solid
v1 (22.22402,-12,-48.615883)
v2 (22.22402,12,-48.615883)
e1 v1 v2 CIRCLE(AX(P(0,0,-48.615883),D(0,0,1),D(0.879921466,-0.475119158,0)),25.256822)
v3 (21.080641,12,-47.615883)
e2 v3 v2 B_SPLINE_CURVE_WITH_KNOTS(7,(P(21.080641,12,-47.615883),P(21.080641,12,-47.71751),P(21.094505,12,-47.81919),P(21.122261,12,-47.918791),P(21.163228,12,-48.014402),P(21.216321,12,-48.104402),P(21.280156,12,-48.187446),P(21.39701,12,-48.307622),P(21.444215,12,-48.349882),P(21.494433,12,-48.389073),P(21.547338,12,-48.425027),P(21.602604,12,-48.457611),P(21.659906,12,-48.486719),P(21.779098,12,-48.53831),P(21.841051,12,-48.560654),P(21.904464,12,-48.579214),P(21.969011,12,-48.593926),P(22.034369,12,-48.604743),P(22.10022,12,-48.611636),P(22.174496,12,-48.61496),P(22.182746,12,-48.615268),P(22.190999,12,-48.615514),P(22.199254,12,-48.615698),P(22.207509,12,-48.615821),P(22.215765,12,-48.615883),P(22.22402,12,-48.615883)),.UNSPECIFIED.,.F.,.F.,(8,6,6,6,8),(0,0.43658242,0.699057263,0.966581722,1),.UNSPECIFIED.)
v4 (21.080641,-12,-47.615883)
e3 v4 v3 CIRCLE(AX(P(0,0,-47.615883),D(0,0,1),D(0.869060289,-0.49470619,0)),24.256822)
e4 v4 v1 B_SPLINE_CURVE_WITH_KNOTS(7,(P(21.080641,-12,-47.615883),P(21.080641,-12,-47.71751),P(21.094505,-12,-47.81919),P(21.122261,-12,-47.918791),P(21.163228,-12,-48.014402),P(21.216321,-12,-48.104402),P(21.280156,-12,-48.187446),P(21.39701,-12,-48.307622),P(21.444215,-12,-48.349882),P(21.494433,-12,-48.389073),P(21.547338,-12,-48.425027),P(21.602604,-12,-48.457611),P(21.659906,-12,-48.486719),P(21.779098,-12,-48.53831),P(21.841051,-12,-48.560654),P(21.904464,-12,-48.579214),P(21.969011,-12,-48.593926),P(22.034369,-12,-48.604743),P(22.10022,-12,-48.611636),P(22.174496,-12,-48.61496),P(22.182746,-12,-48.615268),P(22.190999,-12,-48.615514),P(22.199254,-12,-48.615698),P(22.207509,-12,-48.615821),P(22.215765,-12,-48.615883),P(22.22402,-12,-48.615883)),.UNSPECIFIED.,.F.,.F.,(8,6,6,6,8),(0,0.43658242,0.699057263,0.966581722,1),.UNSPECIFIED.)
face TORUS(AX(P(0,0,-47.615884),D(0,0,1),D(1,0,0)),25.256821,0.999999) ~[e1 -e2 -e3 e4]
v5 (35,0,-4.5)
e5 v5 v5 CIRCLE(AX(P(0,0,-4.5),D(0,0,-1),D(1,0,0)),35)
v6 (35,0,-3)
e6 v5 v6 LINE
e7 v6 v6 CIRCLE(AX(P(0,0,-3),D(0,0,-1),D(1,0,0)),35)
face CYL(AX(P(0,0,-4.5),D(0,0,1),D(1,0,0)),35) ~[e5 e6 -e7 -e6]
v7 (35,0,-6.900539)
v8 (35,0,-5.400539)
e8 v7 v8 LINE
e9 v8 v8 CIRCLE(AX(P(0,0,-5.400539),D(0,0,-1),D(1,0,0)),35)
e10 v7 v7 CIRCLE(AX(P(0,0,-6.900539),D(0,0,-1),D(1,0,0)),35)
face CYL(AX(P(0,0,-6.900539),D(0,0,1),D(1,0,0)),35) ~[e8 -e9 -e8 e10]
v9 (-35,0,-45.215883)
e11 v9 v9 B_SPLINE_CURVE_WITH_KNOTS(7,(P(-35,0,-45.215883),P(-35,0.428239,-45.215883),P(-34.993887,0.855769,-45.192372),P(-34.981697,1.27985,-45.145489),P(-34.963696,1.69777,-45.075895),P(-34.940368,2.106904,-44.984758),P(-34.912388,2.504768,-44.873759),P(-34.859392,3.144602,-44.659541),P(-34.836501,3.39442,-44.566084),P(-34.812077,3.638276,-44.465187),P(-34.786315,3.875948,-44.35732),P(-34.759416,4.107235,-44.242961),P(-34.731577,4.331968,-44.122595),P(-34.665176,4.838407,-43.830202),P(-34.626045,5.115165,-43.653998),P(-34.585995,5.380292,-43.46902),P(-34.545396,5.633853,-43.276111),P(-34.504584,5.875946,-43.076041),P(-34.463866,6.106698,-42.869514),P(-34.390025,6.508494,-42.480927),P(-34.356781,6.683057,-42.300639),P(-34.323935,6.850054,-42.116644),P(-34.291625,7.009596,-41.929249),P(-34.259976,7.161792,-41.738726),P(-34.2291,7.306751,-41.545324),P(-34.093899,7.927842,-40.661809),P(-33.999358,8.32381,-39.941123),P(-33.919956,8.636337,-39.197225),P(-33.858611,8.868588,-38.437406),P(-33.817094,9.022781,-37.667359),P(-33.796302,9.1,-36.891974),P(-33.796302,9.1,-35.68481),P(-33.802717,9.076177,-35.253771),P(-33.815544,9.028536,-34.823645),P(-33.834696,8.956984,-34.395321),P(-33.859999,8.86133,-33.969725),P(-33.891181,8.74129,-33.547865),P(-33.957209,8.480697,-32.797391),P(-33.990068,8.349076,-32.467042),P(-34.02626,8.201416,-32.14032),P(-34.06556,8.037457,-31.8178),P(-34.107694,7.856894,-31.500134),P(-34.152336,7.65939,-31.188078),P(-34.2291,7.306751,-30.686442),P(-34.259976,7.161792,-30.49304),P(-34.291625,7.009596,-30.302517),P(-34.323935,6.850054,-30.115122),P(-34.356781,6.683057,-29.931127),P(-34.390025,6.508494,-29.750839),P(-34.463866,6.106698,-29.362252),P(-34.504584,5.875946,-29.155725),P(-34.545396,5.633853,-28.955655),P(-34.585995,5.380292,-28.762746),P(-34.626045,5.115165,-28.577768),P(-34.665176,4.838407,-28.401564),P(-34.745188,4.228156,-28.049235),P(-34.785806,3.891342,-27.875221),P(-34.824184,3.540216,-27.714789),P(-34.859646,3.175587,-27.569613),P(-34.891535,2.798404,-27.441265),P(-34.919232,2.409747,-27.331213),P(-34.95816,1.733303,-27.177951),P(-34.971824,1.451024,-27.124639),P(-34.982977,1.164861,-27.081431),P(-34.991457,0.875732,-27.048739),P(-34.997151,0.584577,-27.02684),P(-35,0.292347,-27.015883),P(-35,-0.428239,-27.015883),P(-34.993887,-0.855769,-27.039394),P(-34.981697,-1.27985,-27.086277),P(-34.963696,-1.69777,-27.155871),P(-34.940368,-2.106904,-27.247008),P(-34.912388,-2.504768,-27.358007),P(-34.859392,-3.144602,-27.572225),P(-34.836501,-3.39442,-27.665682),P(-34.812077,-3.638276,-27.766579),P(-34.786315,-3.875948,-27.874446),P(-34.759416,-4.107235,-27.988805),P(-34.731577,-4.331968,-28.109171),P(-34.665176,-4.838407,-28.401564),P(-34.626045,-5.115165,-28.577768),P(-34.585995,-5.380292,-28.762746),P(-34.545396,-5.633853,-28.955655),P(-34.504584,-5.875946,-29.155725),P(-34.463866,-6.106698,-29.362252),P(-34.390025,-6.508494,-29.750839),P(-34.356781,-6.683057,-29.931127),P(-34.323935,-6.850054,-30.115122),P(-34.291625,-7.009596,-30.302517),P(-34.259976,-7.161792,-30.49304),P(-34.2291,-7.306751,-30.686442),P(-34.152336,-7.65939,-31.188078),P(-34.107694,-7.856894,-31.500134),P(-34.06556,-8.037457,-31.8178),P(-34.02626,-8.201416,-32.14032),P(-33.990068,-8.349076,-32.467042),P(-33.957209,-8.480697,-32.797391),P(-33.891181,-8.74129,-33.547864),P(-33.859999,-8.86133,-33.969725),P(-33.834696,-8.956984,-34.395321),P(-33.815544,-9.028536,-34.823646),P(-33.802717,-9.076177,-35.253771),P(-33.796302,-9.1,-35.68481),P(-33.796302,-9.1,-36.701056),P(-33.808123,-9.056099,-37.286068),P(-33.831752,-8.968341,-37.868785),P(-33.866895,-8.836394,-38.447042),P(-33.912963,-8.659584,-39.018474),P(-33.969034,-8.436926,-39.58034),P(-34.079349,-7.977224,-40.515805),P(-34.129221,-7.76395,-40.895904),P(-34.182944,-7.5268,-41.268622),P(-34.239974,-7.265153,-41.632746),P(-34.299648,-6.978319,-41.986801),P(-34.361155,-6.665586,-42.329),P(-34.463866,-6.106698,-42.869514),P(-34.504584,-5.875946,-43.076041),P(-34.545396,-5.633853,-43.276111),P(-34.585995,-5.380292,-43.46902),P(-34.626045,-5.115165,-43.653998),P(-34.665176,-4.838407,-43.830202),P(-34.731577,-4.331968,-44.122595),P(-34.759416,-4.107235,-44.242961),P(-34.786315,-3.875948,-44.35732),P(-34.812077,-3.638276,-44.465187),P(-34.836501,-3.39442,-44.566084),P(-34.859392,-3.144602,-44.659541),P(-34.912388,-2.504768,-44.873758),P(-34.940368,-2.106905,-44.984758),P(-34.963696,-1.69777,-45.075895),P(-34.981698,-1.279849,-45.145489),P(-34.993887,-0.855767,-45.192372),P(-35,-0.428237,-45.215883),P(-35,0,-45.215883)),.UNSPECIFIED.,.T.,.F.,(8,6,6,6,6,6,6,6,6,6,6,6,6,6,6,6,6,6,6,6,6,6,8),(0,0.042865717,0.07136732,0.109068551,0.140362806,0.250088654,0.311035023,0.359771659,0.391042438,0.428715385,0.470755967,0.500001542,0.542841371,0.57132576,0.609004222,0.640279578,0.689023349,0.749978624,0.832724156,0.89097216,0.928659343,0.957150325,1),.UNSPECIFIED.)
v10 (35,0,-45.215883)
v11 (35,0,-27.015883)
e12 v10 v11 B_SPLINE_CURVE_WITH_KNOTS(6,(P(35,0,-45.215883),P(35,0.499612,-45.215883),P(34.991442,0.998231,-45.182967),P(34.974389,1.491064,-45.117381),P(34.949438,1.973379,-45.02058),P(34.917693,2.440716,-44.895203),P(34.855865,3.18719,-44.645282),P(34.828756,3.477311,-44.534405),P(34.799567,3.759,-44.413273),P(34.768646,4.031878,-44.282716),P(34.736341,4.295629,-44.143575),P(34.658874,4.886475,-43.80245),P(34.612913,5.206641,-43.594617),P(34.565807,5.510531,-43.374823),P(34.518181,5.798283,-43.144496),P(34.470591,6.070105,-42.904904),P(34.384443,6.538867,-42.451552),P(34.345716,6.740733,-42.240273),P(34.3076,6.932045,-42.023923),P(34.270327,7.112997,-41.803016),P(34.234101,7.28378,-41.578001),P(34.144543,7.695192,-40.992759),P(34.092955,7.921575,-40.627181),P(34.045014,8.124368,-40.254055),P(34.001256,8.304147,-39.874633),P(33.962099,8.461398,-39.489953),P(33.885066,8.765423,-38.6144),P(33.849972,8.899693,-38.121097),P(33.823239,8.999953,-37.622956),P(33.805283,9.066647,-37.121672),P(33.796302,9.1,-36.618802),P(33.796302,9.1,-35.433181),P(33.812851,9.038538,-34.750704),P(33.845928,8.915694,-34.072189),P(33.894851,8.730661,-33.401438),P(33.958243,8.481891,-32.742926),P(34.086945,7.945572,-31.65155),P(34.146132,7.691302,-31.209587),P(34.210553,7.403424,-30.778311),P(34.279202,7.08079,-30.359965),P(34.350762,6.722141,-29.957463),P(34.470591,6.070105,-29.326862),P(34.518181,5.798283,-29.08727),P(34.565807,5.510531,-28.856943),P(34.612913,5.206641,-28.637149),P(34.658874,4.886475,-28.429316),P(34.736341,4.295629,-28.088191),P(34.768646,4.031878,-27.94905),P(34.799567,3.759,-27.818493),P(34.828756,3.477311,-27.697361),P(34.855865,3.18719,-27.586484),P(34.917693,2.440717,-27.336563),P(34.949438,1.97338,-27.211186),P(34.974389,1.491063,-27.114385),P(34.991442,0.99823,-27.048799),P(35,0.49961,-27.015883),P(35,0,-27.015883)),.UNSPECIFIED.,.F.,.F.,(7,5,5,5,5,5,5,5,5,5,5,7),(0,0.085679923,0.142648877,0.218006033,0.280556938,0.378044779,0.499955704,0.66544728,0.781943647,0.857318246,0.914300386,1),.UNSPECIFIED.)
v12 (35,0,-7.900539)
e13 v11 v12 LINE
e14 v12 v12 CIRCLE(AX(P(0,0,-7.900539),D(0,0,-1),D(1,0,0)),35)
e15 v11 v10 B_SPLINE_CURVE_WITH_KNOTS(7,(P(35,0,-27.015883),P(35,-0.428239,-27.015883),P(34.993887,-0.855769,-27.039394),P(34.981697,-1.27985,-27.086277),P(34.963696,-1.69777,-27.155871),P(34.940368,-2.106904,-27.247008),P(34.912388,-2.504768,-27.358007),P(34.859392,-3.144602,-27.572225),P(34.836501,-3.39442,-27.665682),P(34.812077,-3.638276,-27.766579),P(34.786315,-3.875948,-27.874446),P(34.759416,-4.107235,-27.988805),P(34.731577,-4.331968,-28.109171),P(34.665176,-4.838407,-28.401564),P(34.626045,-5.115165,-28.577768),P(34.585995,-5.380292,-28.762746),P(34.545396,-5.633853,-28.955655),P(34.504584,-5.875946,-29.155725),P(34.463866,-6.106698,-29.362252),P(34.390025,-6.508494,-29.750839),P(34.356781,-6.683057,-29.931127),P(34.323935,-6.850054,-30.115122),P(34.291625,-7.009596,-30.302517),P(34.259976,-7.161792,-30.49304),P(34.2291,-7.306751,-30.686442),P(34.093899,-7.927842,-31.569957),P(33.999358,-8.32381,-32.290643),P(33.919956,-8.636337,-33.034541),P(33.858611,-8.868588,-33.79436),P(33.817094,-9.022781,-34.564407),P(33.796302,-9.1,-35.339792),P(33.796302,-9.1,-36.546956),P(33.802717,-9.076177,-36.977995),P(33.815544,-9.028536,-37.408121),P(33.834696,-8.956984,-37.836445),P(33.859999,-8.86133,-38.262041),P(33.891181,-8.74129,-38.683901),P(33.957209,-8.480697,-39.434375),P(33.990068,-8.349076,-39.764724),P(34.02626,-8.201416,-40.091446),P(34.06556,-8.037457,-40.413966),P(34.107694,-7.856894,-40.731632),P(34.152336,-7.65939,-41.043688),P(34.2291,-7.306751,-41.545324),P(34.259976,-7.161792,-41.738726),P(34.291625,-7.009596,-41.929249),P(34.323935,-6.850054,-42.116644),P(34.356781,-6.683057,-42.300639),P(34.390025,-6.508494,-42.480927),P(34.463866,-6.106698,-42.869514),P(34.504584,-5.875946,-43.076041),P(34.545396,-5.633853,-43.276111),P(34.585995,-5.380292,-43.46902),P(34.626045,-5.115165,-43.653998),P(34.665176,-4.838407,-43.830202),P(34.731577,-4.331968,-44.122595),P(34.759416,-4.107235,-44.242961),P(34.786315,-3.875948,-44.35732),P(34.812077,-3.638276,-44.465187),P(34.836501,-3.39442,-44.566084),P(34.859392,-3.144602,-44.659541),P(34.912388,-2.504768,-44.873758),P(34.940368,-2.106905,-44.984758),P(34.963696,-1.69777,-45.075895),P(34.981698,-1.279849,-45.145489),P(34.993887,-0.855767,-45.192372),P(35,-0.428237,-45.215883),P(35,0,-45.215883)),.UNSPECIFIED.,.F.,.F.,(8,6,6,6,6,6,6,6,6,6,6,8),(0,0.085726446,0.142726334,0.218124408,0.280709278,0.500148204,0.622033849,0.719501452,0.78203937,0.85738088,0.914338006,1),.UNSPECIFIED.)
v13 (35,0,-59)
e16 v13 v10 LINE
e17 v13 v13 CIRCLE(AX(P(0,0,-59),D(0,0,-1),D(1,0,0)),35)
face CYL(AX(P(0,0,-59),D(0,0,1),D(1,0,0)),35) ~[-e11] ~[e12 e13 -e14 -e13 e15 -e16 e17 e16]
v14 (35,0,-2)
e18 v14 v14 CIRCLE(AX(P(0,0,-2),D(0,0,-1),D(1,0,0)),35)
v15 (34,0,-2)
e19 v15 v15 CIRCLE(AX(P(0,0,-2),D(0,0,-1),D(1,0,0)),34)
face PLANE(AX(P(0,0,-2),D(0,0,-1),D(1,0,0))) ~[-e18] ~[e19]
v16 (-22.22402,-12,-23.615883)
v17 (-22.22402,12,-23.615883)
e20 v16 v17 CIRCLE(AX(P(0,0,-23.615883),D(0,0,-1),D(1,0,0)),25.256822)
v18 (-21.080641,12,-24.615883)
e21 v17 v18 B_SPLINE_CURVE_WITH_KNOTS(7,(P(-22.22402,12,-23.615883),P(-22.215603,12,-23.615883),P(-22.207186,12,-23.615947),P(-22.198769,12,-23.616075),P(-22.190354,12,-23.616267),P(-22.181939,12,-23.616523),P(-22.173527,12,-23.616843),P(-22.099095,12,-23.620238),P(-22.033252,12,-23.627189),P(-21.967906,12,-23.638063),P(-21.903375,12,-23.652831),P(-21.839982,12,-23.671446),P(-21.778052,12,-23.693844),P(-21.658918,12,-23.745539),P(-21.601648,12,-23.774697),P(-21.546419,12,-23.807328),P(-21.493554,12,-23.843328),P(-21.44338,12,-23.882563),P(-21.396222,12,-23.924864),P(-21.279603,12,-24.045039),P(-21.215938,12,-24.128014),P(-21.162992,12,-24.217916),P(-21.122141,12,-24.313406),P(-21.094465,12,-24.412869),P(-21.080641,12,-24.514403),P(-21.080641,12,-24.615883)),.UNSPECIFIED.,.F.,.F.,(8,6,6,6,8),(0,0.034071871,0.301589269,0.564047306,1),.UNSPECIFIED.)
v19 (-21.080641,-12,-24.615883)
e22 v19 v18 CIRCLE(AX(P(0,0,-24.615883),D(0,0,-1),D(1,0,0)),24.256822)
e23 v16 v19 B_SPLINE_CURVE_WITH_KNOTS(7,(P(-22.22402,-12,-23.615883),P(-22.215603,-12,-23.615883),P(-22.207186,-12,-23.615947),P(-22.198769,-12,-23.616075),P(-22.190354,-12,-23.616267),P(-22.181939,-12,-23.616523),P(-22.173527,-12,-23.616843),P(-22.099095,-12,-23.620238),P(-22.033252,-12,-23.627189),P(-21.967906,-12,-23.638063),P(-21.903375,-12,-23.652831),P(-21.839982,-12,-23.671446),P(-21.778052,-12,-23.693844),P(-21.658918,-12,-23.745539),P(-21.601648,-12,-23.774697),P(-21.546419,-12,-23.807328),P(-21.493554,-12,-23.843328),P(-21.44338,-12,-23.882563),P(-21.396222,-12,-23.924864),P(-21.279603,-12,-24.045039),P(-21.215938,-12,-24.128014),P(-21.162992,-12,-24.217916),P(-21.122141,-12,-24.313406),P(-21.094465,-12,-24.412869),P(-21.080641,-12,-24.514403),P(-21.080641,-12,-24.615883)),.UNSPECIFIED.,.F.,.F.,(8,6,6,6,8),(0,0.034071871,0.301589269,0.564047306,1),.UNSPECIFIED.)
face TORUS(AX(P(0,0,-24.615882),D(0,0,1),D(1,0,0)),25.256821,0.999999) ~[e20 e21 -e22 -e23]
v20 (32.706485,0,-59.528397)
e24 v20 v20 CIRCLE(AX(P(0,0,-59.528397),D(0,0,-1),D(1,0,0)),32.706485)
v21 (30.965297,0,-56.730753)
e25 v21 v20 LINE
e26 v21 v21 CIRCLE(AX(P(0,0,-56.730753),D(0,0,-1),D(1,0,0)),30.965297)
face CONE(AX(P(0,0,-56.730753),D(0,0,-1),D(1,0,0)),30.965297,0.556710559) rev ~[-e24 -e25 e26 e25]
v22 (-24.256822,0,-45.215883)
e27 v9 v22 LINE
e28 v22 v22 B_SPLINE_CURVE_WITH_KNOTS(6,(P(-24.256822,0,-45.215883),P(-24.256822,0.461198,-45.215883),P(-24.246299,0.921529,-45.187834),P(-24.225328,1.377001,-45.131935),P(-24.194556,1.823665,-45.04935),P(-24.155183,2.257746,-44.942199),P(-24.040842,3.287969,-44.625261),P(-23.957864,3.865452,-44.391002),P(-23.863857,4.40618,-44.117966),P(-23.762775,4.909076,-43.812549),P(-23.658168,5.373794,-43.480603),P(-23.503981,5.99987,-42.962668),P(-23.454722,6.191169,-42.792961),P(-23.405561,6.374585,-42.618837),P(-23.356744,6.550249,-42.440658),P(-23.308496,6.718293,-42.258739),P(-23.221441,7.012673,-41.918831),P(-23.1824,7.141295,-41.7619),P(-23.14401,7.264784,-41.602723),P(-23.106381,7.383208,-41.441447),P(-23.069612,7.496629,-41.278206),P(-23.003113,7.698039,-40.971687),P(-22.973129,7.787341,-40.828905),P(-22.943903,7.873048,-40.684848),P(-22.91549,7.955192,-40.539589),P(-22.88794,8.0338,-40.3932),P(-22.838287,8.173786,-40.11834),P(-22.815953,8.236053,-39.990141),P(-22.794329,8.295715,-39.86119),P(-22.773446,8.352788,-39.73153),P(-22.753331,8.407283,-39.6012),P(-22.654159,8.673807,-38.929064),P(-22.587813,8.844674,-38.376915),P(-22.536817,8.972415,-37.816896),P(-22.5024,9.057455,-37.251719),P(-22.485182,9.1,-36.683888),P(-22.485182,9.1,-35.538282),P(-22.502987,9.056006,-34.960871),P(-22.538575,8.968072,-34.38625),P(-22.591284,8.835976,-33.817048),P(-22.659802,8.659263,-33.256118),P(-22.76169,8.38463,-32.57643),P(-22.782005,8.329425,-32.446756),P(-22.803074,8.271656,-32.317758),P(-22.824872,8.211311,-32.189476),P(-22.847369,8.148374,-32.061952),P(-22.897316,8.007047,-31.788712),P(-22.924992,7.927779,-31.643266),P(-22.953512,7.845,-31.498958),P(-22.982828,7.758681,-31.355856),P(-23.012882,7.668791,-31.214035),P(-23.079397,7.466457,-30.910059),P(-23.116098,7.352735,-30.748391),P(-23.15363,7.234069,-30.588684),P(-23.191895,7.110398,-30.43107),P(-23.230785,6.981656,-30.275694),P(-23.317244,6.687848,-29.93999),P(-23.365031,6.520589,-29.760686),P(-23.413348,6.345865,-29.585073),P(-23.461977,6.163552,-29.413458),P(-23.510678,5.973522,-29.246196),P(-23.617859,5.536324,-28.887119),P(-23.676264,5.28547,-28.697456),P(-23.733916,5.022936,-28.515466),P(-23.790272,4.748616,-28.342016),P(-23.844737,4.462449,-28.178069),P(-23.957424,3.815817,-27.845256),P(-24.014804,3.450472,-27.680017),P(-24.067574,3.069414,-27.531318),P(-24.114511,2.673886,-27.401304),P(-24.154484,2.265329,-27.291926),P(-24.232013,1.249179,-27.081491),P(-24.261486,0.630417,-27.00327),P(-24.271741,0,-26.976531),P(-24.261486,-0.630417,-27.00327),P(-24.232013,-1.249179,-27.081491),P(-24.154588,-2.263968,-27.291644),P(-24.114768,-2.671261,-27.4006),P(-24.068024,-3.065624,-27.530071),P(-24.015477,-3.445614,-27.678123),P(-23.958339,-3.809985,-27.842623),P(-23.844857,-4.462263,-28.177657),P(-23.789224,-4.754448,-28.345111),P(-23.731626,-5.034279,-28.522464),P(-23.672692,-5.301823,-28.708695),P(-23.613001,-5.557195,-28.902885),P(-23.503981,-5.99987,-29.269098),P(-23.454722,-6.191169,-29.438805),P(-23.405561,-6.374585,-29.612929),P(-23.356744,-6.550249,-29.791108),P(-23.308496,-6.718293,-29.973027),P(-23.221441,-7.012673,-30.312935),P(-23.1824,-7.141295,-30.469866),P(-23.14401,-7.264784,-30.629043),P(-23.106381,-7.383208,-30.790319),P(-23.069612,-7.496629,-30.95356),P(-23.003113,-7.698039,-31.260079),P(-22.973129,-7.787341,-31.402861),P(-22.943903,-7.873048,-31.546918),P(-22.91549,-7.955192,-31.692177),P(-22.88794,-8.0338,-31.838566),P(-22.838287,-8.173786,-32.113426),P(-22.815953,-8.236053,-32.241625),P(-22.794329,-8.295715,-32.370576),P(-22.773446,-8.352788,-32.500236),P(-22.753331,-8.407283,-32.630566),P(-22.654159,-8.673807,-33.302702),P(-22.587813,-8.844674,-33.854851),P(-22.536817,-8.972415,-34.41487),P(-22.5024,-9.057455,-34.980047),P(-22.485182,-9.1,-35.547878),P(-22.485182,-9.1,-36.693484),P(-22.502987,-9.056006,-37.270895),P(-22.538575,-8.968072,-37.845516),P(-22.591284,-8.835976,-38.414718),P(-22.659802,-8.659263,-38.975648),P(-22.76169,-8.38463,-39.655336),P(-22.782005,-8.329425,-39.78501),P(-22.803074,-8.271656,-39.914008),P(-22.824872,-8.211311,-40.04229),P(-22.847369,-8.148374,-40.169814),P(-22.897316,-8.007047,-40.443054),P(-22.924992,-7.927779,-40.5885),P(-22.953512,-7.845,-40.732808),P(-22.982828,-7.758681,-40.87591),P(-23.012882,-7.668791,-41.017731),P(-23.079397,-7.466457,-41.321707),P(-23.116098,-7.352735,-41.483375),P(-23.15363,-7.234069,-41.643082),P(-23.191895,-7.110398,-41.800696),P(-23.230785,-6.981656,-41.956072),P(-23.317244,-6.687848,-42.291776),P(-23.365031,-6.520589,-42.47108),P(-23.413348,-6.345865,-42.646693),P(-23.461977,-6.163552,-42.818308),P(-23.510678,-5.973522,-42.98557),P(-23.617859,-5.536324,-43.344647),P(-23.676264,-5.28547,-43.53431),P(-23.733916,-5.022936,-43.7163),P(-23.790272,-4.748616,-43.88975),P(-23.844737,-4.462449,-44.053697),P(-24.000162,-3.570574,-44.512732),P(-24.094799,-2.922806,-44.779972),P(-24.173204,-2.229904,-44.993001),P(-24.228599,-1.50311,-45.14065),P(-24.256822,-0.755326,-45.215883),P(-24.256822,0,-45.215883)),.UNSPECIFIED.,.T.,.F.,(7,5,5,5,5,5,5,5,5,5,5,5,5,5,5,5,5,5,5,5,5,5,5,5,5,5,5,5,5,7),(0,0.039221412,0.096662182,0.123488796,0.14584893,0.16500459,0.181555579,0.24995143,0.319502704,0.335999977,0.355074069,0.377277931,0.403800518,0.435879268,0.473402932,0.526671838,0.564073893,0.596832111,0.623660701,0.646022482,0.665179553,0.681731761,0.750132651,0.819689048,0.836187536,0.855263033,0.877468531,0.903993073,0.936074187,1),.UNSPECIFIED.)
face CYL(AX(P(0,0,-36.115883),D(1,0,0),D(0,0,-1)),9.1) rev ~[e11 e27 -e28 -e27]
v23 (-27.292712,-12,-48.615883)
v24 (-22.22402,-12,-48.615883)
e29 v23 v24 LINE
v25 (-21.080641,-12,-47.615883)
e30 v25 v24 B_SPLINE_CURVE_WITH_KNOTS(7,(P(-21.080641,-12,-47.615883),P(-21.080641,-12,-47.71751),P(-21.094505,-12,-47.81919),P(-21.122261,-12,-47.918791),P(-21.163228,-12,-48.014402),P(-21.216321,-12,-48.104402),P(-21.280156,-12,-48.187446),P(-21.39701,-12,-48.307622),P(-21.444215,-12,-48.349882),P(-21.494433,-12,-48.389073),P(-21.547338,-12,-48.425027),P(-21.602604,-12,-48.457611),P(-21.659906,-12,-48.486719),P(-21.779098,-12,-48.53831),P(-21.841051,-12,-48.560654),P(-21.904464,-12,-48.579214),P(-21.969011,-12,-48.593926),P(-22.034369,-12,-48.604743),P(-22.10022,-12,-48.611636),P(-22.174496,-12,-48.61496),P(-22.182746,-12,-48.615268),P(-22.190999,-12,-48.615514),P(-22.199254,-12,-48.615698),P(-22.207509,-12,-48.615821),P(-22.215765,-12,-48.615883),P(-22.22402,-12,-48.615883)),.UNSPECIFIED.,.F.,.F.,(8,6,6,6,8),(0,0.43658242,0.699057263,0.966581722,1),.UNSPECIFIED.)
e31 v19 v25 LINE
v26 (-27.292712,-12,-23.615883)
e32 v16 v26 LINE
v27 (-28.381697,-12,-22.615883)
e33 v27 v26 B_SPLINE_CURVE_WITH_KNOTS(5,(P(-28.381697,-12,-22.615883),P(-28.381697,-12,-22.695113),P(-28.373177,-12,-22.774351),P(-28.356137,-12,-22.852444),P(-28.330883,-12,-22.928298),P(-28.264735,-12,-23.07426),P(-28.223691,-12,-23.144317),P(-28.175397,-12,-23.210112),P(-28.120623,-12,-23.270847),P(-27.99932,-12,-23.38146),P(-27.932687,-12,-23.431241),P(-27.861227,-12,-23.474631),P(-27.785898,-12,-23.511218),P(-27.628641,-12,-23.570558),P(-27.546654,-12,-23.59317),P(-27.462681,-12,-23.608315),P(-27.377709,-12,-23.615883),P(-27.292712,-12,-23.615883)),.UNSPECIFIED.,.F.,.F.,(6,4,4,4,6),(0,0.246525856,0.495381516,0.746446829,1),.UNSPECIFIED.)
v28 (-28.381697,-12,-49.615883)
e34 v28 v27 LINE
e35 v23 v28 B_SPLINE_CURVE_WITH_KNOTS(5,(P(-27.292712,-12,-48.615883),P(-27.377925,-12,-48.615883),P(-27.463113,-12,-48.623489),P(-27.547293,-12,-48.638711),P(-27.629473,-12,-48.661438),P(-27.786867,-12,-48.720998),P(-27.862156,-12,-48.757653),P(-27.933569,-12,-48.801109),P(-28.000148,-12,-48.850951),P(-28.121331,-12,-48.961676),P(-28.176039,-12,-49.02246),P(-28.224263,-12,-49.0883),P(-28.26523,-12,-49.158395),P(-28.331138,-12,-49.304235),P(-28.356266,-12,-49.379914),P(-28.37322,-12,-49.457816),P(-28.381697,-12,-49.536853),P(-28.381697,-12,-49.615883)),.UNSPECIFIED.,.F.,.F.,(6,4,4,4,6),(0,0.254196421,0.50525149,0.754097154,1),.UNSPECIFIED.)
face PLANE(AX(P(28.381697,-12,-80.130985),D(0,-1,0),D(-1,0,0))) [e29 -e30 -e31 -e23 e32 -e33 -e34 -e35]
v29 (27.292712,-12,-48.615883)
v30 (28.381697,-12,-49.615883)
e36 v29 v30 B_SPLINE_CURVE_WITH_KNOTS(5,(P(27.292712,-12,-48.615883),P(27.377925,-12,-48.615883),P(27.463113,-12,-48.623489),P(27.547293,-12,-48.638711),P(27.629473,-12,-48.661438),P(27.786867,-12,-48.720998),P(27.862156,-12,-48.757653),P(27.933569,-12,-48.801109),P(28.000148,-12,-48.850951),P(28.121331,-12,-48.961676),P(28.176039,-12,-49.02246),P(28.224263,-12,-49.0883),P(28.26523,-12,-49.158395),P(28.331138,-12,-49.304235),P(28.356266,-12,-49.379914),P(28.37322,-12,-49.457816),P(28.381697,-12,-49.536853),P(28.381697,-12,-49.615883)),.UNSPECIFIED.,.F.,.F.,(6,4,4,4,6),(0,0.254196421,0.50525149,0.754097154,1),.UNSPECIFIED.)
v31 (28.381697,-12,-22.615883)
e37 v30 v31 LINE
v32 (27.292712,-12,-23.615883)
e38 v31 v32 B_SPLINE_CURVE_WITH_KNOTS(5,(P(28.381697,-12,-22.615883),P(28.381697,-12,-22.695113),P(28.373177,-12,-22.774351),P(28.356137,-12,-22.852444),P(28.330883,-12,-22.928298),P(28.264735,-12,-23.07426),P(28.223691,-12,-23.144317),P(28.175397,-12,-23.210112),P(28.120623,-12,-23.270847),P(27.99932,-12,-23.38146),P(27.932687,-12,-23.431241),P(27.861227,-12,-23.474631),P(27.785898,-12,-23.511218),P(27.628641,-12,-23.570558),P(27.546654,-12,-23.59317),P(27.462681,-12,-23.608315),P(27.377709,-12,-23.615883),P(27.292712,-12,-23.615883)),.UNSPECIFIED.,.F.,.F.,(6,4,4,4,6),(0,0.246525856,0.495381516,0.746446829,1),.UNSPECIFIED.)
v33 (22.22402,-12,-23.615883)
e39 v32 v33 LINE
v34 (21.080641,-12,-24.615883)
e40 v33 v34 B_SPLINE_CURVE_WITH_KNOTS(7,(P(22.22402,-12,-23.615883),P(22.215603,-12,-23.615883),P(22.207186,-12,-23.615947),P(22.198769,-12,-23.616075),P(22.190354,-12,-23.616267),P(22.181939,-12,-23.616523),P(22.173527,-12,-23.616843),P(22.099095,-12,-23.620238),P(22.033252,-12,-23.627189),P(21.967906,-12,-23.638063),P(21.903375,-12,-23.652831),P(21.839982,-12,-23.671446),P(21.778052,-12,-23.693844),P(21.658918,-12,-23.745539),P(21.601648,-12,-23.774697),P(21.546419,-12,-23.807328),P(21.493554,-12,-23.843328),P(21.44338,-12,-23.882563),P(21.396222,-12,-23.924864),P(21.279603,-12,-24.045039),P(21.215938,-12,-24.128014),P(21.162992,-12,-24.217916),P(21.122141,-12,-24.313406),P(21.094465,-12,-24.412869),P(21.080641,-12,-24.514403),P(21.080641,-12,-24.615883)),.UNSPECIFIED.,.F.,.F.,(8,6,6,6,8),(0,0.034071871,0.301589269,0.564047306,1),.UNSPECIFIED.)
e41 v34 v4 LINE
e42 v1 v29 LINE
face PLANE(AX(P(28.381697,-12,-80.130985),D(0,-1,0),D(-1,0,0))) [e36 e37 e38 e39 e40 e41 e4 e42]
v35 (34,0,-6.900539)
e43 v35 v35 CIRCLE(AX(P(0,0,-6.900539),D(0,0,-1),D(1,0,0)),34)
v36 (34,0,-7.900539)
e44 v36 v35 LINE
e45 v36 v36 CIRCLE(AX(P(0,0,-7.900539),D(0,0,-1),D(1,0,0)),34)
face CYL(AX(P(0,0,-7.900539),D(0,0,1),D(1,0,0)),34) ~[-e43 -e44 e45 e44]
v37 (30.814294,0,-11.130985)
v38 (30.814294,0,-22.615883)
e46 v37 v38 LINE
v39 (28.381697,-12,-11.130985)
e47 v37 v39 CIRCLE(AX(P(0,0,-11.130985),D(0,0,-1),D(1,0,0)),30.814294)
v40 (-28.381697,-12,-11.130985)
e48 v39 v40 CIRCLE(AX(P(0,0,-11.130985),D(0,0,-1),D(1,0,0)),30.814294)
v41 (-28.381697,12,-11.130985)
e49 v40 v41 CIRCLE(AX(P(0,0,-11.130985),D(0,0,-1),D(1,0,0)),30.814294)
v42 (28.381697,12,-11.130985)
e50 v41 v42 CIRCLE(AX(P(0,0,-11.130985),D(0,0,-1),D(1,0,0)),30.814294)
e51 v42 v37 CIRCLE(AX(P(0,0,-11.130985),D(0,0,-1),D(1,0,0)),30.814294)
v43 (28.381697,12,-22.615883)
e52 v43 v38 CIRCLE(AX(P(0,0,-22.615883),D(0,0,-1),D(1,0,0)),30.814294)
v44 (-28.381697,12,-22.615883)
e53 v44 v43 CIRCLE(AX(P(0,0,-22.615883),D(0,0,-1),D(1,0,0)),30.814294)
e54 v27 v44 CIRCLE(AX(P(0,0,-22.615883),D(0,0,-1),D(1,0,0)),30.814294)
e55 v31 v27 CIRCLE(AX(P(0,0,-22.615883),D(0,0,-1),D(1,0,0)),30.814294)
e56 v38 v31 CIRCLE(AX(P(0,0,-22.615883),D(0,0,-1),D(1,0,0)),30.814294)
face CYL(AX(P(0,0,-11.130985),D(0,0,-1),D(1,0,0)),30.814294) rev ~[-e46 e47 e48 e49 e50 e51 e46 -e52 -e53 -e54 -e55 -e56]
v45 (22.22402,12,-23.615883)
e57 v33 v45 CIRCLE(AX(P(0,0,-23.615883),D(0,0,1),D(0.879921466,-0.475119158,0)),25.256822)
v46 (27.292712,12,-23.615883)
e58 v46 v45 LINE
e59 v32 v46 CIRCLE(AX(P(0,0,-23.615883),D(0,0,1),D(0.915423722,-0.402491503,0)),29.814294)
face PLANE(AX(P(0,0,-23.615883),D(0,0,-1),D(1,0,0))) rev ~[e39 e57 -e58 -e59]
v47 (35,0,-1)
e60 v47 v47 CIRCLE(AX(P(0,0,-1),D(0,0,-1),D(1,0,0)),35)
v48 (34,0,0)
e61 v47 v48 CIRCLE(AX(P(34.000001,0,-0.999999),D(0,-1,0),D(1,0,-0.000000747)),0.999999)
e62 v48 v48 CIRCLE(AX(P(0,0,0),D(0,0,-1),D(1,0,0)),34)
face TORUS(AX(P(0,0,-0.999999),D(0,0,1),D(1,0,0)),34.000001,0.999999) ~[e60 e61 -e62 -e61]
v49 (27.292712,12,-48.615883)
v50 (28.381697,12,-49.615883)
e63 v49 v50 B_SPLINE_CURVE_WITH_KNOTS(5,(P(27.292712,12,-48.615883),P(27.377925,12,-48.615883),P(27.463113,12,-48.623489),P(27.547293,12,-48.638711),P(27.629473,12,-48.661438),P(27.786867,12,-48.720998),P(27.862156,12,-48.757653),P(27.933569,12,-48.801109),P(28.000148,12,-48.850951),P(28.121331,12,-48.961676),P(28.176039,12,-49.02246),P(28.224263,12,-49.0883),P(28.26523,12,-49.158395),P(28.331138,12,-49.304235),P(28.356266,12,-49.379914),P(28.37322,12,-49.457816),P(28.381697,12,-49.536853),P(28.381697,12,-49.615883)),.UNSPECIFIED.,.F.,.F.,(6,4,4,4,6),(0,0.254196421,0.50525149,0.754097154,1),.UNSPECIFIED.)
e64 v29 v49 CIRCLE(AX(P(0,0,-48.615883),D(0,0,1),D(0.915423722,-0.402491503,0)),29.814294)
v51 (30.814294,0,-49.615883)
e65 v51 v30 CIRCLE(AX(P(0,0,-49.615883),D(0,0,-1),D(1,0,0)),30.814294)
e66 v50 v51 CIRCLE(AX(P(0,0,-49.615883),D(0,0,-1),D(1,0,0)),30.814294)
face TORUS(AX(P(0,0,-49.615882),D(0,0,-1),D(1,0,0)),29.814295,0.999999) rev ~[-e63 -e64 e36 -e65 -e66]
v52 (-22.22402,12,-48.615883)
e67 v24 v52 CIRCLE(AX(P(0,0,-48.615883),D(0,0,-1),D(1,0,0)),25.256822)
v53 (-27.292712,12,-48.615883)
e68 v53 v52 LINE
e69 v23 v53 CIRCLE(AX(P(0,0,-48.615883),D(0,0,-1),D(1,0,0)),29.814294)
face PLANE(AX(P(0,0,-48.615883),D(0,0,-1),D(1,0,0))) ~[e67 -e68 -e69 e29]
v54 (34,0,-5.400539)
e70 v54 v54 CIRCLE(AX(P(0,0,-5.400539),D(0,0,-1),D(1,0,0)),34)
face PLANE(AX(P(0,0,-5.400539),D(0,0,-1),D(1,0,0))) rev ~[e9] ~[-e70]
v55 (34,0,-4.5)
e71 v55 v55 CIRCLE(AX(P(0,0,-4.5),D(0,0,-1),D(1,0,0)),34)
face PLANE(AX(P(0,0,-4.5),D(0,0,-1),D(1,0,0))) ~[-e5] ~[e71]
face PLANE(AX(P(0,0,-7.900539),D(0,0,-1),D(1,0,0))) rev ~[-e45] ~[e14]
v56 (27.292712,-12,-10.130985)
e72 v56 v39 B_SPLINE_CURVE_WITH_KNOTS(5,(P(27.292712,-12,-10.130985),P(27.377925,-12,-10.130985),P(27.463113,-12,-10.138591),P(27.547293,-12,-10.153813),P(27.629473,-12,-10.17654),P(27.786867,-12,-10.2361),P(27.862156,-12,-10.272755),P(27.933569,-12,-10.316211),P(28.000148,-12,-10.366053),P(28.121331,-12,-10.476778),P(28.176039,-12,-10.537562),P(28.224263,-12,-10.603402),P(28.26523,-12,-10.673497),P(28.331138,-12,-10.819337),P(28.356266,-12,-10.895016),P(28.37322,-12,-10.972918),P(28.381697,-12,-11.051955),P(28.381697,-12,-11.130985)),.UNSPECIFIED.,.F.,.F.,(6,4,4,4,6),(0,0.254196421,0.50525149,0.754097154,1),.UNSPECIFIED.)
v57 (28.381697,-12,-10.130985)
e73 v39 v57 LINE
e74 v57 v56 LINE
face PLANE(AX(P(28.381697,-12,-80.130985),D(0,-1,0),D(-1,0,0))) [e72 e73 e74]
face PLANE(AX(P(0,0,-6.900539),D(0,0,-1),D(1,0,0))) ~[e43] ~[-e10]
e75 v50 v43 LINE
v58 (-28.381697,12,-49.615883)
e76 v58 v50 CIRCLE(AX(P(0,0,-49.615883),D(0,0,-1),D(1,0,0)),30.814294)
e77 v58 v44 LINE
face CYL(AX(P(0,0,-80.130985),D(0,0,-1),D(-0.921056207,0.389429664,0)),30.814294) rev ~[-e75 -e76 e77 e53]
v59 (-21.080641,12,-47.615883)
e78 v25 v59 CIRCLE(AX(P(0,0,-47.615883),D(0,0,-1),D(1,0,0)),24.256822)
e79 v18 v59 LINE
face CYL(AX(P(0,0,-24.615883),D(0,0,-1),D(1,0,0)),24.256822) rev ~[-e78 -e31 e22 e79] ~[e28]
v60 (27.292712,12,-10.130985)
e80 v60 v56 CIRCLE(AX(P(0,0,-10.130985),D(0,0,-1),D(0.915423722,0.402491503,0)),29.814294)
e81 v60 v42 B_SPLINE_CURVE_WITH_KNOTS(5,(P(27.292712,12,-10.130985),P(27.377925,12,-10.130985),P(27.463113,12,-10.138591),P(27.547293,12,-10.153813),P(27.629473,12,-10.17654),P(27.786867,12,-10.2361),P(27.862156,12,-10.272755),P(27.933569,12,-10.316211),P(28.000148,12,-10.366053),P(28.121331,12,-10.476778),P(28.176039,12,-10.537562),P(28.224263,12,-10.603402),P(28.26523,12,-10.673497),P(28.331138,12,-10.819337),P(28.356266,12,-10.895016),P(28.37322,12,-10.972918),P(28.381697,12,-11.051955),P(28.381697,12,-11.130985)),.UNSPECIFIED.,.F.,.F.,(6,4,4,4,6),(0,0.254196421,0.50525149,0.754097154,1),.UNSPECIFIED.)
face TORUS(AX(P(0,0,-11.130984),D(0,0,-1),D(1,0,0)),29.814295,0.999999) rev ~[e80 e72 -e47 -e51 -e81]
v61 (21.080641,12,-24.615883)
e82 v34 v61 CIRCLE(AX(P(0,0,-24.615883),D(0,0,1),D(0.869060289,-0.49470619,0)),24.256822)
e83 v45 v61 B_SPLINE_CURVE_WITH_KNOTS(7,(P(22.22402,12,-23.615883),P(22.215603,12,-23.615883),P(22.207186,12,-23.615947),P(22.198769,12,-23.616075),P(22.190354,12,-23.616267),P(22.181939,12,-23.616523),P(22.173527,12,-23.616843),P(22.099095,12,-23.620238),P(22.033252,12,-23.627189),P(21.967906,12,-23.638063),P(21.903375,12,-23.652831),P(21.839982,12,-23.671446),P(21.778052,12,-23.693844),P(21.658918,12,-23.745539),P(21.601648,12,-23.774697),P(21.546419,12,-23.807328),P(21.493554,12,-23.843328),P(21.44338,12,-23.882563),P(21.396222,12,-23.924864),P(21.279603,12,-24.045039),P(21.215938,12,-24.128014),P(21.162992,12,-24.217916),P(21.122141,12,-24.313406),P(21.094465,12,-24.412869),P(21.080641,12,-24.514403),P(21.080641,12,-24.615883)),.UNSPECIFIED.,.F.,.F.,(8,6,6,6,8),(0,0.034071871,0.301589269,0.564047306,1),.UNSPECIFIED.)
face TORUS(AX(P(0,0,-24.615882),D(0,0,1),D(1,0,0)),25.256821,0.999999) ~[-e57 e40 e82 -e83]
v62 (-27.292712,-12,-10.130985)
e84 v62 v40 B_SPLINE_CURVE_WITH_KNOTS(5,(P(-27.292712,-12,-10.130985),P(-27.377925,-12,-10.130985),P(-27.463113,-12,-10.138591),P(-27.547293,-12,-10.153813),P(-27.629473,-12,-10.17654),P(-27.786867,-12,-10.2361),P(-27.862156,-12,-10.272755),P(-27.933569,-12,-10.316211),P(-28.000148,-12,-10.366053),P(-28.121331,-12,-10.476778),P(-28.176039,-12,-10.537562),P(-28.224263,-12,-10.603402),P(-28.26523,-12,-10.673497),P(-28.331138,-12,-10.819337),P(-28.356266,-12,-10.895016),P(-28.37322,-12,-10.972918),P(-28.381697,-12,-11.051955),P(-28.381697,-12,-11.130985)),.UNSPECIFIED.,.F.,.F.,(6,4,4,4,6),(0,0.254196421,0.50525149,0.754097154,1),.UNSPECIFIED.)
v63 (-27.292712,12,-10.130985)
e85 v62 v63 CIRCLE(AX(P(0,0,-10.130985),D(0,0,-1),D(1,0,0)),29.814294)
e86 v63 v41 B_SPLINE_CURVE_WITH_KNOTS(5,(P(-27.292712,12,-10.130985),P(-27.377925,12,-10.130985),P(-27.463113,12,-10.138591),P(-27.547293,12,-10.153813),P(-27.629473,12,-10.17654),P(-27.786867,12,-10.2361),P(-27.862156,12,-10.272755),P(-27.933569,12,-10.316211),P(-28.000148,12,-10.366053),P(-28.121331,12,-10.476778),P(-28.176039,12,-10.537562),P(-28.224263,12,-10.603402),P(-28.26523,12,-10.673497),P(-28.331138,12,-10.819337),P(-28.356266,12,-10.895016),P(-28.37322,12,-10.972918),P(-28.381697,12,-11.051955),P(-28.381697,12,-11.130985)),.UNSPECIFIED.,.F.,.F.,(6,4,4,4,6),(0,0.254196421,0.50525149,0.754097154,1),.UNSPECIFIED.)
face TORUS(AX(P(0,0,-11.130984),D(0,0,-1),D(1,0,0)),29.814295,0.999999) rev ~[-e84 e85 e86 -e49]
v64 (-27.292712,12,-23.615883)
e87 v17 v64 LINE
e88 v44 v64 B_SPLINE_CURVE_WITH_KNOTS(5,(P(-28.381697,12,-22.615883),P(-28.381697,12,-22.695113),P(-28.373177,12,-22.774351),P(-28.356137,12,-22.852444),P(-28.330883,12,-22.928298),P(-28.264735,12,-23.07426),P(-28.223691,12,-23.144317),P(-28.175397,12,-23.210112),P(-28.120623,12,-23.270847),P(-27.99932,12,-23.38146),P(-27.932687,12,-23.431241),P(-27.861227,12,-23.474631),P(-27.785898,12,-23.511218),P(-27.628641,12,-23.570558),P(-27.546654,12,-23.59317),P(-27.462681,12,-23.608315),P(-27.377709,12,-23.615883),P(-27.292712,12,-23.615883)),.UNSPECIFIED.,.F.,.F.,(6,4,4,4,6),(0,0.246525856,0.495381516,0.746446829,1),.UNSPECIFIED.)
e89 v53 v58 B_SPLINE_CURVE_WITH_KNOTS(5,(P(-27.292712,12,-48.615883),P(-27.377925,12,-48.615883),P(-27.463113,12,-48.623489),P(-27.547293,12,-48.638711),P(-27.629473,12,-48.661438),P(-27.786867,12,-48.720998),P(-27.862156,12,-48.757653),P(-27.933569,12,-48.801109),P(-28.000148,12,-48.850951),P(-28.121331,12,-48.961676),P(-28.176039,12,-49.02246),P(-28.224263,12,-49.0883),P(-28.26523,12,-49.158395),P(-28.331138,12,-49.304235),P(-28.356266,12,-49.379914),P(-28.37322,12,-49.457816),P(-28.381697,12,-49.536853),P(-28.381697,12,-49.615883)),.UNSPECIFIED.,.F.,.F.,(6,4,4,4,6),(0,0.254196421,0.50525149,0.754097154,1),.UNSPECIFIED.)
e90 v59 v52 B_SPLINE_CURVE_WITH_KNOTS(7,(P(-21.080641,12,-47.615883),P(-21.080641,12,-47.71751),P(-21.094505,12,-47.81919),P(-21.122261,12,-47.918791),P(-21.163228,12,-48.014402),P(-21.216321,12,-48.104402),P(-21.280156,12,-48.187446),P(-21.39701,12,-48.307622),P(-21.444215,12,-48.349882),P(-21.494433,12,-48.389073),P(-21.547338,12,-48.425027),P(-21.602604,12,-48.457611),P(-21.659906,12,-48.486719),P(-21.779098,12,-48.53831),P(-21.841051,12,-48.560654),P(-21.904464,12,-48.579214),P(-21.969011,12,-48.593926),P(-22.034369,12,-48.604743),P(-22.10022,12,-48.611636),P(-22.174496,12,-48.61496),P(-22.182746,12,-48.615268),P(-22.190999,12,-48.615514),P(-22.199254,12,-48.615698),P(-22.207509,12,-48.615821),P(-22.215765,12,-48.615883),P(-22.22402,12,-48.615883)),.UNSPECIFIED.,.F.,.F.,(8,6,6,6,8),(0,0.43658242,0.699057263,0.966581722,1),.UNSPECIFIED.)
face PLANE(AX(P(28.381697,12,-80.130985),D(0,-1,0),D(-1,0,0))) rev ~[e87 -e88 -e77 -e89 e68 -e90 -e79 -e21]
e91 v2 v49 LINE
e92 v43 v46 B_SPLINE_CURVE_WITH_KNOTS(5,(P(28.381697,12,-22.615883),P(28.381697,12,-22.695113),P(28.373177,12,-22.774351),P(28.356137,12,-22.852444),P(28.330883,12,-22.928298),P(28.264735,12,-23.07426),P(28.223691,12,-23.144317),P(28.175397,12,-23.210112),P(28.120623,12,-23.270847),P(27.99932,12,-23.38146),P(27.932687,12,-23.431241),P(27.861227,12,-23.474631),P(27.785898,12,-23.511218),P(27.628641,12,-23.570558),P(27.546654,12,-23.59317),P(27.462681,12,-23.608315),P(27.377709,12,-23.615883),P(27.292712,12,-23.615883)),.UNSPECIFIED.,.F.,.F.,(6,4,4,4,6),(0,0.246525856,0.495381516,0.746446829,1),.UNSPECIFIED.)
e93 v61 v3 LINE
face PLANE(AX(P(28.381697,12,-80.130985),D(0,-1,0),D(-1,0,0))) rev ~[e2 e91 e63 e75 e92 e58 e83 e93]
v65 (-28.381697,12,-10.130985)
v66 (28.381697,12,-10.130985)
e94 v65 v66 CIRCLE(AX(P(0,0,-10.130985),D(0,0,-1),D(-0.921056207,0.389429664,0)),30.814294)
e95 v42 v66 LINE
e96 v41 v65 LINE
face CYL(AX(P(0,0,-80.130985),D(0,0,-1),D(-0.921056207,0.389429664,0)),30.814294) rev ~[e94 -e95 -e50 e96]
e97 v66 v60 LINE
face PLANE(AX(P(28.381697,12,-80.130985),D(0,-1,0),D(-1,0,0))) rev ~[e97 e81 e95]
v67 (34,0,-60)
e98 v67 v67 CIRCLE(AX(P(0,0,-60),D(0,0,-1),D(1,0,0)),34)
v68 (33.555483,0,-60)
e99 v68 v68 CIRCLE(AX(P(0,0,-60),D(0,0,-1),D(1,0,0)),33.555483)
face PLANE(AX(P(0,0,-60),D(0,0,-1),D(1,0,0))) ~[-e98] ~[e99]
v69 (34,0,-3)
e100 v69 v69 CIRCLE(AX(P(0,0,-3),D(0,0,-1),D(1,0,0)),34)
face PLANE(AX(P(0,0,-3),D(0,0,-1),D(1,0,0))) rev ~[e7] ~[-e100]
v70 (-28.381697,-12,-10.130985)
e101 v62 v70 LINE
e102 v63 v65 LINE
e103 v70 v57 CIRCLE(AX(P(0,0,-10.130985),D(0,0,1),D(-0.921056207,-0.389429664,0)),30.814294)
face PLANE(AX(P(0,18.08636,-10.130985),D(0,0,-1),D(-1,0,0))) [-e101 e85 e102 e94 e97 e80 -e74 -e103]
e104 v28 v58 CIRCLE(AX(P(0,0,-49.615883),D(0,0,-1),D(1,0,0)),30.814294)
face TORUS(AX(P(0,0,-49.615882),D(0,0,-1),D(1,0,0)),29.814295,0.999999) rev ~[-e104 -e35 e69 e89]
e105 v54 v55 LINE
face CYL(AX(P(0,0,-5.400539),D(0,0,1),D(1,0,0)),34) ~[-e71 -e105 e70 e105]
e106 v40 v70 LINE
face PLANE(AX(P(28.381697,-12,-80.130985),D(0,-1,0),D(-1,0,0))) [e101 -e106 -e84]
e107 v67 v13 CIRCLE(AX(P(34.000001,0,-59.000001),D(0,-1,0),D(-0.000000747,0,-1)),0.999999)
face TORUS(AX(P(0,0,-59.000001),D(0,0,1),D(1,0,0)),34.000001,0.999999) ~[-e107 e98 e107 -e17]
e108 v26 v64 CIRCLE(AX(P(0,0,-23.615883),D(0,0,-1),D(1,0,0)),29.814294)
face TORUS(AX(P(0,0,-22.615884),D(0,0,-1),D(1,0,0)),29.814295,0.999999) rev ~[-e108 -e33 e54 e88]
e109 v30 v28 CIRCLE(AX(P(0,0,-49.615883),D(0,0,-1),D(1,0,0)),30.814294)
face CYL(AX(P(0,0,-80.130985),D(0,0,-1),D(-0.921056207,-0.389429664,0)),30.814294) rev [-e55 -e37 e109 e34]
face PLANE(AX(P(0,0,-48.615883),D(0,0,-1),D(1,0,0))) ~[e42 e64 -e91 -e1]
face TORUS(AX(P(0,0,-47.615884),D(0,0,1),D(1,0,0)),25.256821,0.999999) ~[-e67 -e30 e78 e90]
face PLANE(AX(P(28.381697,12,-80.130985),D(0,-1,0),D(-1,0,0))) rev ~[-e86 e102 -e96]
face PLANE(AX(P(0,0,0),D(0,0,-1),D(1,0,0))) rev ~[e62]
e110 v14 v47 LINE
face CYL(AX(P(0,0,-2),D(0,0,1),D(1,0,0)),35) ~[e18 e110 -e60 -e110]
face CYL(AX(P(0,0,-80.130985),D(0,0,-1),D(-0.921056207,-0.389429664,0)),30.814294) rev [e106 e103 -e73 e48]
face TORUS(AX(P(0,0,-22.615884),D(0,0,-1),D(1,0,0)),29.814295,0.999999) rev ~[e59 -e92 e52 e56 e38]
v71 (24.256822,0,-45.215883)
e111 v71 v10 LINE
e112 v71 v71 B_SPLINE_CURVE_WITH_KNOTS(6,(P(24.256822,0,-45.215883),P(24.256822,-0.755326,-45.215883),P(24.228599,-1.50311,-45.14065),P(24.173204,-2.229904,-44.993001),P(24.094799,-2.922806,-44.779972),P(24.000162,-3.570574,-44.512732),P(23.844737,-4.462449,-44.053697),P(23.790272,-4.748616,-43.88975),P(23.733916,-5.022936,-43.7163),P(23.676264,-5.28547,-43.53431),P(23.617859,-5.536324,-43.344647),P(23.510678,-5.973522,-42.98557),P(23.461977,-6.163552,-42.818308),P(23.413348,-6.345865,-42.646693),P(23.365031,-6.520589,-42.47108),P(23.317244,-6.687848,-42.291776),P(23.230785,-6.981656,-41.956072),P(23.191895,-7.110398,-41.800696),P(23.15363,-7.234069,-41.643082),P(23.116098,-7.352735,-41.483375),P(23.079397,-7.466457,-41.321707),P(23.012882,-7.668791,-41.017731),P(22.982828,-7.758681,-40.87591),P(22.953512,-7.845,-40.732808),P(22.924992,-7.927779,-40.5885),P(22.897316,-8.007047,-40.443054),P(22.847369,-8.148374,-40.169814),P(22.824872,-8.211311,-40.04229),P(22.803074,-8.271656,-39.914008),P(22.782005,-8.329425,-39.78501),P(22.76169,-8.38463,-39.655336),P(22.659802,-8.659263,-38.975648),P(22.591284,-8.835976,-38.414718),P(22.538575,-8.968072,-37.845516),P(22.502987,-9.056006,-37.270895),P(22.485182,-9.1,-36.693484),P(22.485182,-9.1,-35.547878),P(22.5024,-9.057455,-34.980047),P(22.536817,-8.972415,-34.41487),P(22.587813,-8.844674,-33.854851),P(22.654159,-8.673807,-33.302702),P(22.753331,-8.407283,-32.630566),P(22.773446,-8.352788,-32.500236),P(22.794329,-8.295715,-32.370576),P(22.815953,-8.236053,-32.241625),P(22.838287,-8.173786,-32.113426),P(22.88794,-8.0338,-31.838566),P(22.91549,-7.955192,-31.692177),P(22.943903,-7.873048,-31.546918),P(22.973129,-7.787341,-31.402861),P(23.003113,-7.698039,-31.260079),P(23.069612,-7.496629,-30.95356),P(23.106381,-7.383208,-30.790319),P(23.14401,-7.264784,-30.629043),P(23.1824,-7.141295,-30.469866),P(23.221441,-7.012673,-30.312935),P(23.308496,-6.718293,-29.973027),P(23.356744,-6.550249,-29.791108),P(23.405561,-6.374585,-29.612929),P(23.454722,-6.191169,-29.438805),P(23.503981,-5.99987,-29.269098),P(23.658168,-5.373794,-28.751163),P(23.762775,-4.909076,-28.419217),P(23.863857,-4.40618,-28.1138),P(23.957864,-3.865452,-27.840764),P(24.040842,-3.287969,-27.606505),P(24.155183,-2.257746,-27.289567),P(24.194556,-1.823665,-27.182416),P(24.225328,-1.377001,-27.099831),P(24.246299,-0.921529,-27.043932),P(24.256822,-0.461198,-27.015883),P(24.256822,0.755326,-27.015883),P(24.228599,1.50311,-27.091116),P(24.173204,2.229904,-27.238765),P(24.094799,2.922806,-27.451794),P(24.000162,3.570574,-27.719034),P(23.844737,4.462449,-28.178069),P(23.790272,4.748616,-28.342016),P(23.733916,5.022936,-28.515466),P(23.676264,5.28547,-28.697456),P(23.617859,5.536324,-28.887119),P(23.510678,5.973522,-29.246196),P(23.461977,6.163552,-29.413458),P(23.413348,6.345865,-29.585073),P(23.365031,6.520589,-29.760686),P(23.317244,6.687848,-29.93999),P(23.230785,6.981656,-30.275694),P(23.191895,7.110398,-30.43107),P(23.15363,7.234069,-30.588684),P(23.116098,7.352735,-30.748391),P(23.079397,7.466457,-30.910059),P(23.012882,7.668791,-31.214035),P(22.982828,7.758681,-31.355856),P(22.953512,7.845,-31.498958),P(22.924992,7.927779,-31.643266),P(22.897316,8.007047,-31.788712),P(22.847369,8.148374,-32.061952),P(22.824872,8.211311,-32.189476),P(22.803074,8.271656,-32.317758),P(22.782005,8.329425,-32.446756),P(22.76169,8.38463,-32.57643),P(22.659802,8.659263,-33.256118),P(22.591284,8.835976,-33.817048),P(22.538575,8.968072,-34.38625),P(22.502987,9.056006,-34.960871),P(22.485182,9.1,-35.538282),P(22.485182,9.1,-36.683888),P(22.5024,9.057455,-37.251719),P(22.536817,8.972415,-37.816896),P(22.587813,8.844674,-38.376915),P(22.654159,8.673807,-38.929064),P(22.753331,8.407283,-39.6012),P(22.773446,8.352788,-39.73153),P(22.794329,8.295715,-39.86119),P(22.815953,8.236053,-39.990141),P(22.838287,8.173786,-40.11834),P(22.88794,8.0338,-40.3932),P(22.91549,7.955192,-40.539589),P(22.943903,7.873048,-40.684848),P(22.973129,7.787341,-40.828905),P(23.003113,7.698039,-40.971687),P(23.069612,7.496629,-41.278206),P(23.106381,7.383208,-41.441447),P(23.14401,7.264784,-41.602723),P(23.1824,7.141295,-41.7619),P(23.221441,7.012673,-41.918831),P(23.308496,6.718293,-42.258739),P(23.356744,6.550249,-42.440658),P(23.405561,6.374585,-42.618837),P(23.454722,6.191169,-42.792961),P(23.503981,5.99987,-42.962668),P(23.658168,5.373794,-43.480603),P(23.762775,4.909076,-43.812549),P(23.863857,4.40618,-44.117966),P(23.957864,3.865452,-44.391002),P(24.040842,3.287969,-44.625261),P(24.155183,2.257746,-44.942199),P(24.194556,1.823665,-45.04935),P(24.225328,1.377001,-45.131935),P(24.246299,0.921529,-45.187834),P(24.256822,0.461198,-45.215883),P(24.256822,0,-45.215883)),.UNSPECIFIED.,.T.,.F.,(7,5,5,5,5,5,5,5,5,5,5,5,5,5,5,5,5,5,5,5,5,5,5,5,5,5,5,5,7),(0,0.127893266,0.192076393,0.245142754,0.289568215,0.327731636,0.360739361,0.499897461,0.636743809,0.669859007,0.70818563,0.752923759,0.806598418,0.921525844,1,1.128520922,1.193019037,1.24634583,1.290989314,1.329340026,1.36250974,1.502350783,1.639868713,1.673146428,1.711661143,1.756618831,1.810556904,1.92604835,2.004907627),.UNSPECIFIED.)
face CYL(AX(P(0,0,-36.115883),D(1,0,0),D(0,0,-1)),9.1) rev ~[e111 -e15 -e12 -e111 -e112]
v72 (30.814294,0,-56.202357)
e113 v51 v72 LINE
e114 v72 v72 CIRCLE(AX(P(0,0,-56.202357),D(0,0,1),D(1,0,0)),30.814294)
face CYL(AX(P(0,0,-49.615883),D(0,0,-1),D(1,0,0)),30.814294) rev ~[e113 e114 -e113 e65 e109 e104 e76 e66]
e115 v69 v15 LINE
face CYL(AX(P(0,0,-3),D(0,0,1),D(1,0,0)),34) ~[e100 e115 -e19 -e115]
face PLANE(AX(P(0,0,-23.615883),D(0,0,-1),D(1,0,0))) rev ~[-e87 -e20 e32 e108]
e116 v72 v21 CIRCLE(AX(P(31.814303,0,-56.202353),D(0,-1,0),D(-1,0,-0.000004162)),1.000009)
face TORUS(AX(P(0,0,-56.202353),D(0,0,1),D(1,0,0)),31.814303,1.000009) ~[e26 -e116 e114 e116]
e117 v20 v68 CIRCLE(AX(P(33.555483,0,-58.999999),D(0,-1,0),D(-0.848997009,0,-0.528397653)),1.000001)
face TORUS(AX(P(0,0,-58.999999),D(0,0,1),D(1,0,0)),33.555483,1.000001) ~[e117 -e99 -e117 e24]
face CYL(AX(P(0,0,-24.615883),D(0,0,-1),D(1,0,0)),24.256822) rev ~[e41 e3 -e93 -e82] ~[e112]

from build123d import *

# Parameters (mm, degrees)
CUT_EXTRUDE1_START = 70
CUT_EXTRUDE1_DEPTH = 70
SKETCH3_R          = 9.1
CUT_EXTRUDE2_DEPTH = 50


with BuildPart() as part:
    # Sketch1 → Revolve1 (revolve)
    with BuildSketch(Plane(origin=(0, 0, 0), x_dir=(0, 0, -1), z_dir=(1, 0, 0)), mode=Mode.PRIVATE) as revolve1_sk:
        with BuildLine():
            Line((0, 34), (0, 0))
            Line((0, 0), (10.130985, 0))
            Line((10.130985, 0), (10.130985, 29.814294))
            ThreePointArc((10.130985, 29.814294), (10.423878, 30.521401), (11.130985, 30.814294))
            Line((11.130985, 30.814294), (22.615883, 30.814294))
            ThreePointArc((22.615883, 30.814294), (23.32299, 30.521401), (23.615883, 29.814294))
            Line((23.615883, 29.814294), (23.615883, 25.256822))
            ThreePointArc((23.615883, 25.256822), (23.908776, 24.549715), (24.615883, 24.256822))
            Line((24.615883, 24.256822), (47.615883, 24.256822))
            ThreePointArc((47.615883, 24.256822), (48.32299, 24.549715), (48.615883, 25.256822))
            Line((48.615883, 25.256822), (48.615883, 29.814294))
            ThreePointArc((48.615883, 29.814294), (48.908776, 30.521401), (49.615883, 30.814294))
            Line((49.615883, 30.814294), (56.202357, 30.814294))
            ThreePointArc((56.202357, 30.814294), (56.477131, 30.852786), (56.730753, 30.965297))
            Line((56.730753, 30.965297), (59.528397, 32.706485))
            ThreePointArc((59.528397, 32.706485), (59.874184, 33.069888), (60, 33.555483))
            Line((60, 33.555483), (60, 34))
            ThreePointArc((60, 34), (59.707107, 34.707107), (59, 35))
            Line((59, 35), (7.900539, 35))
            Line((7.900539, 35), (7.900539, 34))
            Line((7.900539, 34), (6.900539, 34))
            Line((6.900539, 34), (6.900539, 35))
            Line((6.900539, 35), (5.400539, 35))
            Line((5.400539, 35), (5.400539, 34))
            Line((5.400539, 34), (4.5, 34))
            Line((4.5, 34), (4.5, 35))
            Line((4.5, 35), (3, 35))
            Line((3, 35), (3, 34))
            Line((3, 34), (2, 34))
            Line((2, 34), (2, 35))
            Line((2, 35), (1, 35))
            ThreePointArc((1, 35), (0.292893, 34.707107), (0, 34))
        make_face()
    revolve(revolve1_sk.sketch.rotate(Axis((0, 0, 0), (0, 0, -1)), 90), axis=Axis((0, 0, 0), (0, 0, -1)))

    # Sketch2 → Cut-Extrude1 (cut)
    with BuildSketch(Plane(origin=(0, 0, -10.130985), x_dir=(-1, 0, 0), z_dir=(0, 0, -1)).offset(CUT_EXTRUDE1_START)):
        with BuildLine():
            Line((-28.381697, 12), (28.381697, 12))
            ThreePointArc((28.381697, 12), (0, 30.814294), (-28.381697, 12))
        make_face()
        with BuildLine():
            Line((-28.381697, -12), (28.381697, -12))
            ThreePointArc((28.381697, -12), (0, -30.814294), (-28.381697, -12))
        make_face()
    extrude(amount=-CUT_EXTRUDE1_DEPTH, mode=Mode.SUBTRACT)

    # Sketch3 → Cut-Extrude2 (cut, symmetric)
    with BuildSketch(Plane(origin=(0, 0, 0), x_dir=(0, 0, -1), z_dir=(1, 0, 0))):
        with Locations((36.115883, 0)):
            Circle(SKETCH3_R)
    extrude(amount=CUT_EXTRUDE2_DEPTH, both=True, mode=Mode.SUBTRACT)


solid = part.part
